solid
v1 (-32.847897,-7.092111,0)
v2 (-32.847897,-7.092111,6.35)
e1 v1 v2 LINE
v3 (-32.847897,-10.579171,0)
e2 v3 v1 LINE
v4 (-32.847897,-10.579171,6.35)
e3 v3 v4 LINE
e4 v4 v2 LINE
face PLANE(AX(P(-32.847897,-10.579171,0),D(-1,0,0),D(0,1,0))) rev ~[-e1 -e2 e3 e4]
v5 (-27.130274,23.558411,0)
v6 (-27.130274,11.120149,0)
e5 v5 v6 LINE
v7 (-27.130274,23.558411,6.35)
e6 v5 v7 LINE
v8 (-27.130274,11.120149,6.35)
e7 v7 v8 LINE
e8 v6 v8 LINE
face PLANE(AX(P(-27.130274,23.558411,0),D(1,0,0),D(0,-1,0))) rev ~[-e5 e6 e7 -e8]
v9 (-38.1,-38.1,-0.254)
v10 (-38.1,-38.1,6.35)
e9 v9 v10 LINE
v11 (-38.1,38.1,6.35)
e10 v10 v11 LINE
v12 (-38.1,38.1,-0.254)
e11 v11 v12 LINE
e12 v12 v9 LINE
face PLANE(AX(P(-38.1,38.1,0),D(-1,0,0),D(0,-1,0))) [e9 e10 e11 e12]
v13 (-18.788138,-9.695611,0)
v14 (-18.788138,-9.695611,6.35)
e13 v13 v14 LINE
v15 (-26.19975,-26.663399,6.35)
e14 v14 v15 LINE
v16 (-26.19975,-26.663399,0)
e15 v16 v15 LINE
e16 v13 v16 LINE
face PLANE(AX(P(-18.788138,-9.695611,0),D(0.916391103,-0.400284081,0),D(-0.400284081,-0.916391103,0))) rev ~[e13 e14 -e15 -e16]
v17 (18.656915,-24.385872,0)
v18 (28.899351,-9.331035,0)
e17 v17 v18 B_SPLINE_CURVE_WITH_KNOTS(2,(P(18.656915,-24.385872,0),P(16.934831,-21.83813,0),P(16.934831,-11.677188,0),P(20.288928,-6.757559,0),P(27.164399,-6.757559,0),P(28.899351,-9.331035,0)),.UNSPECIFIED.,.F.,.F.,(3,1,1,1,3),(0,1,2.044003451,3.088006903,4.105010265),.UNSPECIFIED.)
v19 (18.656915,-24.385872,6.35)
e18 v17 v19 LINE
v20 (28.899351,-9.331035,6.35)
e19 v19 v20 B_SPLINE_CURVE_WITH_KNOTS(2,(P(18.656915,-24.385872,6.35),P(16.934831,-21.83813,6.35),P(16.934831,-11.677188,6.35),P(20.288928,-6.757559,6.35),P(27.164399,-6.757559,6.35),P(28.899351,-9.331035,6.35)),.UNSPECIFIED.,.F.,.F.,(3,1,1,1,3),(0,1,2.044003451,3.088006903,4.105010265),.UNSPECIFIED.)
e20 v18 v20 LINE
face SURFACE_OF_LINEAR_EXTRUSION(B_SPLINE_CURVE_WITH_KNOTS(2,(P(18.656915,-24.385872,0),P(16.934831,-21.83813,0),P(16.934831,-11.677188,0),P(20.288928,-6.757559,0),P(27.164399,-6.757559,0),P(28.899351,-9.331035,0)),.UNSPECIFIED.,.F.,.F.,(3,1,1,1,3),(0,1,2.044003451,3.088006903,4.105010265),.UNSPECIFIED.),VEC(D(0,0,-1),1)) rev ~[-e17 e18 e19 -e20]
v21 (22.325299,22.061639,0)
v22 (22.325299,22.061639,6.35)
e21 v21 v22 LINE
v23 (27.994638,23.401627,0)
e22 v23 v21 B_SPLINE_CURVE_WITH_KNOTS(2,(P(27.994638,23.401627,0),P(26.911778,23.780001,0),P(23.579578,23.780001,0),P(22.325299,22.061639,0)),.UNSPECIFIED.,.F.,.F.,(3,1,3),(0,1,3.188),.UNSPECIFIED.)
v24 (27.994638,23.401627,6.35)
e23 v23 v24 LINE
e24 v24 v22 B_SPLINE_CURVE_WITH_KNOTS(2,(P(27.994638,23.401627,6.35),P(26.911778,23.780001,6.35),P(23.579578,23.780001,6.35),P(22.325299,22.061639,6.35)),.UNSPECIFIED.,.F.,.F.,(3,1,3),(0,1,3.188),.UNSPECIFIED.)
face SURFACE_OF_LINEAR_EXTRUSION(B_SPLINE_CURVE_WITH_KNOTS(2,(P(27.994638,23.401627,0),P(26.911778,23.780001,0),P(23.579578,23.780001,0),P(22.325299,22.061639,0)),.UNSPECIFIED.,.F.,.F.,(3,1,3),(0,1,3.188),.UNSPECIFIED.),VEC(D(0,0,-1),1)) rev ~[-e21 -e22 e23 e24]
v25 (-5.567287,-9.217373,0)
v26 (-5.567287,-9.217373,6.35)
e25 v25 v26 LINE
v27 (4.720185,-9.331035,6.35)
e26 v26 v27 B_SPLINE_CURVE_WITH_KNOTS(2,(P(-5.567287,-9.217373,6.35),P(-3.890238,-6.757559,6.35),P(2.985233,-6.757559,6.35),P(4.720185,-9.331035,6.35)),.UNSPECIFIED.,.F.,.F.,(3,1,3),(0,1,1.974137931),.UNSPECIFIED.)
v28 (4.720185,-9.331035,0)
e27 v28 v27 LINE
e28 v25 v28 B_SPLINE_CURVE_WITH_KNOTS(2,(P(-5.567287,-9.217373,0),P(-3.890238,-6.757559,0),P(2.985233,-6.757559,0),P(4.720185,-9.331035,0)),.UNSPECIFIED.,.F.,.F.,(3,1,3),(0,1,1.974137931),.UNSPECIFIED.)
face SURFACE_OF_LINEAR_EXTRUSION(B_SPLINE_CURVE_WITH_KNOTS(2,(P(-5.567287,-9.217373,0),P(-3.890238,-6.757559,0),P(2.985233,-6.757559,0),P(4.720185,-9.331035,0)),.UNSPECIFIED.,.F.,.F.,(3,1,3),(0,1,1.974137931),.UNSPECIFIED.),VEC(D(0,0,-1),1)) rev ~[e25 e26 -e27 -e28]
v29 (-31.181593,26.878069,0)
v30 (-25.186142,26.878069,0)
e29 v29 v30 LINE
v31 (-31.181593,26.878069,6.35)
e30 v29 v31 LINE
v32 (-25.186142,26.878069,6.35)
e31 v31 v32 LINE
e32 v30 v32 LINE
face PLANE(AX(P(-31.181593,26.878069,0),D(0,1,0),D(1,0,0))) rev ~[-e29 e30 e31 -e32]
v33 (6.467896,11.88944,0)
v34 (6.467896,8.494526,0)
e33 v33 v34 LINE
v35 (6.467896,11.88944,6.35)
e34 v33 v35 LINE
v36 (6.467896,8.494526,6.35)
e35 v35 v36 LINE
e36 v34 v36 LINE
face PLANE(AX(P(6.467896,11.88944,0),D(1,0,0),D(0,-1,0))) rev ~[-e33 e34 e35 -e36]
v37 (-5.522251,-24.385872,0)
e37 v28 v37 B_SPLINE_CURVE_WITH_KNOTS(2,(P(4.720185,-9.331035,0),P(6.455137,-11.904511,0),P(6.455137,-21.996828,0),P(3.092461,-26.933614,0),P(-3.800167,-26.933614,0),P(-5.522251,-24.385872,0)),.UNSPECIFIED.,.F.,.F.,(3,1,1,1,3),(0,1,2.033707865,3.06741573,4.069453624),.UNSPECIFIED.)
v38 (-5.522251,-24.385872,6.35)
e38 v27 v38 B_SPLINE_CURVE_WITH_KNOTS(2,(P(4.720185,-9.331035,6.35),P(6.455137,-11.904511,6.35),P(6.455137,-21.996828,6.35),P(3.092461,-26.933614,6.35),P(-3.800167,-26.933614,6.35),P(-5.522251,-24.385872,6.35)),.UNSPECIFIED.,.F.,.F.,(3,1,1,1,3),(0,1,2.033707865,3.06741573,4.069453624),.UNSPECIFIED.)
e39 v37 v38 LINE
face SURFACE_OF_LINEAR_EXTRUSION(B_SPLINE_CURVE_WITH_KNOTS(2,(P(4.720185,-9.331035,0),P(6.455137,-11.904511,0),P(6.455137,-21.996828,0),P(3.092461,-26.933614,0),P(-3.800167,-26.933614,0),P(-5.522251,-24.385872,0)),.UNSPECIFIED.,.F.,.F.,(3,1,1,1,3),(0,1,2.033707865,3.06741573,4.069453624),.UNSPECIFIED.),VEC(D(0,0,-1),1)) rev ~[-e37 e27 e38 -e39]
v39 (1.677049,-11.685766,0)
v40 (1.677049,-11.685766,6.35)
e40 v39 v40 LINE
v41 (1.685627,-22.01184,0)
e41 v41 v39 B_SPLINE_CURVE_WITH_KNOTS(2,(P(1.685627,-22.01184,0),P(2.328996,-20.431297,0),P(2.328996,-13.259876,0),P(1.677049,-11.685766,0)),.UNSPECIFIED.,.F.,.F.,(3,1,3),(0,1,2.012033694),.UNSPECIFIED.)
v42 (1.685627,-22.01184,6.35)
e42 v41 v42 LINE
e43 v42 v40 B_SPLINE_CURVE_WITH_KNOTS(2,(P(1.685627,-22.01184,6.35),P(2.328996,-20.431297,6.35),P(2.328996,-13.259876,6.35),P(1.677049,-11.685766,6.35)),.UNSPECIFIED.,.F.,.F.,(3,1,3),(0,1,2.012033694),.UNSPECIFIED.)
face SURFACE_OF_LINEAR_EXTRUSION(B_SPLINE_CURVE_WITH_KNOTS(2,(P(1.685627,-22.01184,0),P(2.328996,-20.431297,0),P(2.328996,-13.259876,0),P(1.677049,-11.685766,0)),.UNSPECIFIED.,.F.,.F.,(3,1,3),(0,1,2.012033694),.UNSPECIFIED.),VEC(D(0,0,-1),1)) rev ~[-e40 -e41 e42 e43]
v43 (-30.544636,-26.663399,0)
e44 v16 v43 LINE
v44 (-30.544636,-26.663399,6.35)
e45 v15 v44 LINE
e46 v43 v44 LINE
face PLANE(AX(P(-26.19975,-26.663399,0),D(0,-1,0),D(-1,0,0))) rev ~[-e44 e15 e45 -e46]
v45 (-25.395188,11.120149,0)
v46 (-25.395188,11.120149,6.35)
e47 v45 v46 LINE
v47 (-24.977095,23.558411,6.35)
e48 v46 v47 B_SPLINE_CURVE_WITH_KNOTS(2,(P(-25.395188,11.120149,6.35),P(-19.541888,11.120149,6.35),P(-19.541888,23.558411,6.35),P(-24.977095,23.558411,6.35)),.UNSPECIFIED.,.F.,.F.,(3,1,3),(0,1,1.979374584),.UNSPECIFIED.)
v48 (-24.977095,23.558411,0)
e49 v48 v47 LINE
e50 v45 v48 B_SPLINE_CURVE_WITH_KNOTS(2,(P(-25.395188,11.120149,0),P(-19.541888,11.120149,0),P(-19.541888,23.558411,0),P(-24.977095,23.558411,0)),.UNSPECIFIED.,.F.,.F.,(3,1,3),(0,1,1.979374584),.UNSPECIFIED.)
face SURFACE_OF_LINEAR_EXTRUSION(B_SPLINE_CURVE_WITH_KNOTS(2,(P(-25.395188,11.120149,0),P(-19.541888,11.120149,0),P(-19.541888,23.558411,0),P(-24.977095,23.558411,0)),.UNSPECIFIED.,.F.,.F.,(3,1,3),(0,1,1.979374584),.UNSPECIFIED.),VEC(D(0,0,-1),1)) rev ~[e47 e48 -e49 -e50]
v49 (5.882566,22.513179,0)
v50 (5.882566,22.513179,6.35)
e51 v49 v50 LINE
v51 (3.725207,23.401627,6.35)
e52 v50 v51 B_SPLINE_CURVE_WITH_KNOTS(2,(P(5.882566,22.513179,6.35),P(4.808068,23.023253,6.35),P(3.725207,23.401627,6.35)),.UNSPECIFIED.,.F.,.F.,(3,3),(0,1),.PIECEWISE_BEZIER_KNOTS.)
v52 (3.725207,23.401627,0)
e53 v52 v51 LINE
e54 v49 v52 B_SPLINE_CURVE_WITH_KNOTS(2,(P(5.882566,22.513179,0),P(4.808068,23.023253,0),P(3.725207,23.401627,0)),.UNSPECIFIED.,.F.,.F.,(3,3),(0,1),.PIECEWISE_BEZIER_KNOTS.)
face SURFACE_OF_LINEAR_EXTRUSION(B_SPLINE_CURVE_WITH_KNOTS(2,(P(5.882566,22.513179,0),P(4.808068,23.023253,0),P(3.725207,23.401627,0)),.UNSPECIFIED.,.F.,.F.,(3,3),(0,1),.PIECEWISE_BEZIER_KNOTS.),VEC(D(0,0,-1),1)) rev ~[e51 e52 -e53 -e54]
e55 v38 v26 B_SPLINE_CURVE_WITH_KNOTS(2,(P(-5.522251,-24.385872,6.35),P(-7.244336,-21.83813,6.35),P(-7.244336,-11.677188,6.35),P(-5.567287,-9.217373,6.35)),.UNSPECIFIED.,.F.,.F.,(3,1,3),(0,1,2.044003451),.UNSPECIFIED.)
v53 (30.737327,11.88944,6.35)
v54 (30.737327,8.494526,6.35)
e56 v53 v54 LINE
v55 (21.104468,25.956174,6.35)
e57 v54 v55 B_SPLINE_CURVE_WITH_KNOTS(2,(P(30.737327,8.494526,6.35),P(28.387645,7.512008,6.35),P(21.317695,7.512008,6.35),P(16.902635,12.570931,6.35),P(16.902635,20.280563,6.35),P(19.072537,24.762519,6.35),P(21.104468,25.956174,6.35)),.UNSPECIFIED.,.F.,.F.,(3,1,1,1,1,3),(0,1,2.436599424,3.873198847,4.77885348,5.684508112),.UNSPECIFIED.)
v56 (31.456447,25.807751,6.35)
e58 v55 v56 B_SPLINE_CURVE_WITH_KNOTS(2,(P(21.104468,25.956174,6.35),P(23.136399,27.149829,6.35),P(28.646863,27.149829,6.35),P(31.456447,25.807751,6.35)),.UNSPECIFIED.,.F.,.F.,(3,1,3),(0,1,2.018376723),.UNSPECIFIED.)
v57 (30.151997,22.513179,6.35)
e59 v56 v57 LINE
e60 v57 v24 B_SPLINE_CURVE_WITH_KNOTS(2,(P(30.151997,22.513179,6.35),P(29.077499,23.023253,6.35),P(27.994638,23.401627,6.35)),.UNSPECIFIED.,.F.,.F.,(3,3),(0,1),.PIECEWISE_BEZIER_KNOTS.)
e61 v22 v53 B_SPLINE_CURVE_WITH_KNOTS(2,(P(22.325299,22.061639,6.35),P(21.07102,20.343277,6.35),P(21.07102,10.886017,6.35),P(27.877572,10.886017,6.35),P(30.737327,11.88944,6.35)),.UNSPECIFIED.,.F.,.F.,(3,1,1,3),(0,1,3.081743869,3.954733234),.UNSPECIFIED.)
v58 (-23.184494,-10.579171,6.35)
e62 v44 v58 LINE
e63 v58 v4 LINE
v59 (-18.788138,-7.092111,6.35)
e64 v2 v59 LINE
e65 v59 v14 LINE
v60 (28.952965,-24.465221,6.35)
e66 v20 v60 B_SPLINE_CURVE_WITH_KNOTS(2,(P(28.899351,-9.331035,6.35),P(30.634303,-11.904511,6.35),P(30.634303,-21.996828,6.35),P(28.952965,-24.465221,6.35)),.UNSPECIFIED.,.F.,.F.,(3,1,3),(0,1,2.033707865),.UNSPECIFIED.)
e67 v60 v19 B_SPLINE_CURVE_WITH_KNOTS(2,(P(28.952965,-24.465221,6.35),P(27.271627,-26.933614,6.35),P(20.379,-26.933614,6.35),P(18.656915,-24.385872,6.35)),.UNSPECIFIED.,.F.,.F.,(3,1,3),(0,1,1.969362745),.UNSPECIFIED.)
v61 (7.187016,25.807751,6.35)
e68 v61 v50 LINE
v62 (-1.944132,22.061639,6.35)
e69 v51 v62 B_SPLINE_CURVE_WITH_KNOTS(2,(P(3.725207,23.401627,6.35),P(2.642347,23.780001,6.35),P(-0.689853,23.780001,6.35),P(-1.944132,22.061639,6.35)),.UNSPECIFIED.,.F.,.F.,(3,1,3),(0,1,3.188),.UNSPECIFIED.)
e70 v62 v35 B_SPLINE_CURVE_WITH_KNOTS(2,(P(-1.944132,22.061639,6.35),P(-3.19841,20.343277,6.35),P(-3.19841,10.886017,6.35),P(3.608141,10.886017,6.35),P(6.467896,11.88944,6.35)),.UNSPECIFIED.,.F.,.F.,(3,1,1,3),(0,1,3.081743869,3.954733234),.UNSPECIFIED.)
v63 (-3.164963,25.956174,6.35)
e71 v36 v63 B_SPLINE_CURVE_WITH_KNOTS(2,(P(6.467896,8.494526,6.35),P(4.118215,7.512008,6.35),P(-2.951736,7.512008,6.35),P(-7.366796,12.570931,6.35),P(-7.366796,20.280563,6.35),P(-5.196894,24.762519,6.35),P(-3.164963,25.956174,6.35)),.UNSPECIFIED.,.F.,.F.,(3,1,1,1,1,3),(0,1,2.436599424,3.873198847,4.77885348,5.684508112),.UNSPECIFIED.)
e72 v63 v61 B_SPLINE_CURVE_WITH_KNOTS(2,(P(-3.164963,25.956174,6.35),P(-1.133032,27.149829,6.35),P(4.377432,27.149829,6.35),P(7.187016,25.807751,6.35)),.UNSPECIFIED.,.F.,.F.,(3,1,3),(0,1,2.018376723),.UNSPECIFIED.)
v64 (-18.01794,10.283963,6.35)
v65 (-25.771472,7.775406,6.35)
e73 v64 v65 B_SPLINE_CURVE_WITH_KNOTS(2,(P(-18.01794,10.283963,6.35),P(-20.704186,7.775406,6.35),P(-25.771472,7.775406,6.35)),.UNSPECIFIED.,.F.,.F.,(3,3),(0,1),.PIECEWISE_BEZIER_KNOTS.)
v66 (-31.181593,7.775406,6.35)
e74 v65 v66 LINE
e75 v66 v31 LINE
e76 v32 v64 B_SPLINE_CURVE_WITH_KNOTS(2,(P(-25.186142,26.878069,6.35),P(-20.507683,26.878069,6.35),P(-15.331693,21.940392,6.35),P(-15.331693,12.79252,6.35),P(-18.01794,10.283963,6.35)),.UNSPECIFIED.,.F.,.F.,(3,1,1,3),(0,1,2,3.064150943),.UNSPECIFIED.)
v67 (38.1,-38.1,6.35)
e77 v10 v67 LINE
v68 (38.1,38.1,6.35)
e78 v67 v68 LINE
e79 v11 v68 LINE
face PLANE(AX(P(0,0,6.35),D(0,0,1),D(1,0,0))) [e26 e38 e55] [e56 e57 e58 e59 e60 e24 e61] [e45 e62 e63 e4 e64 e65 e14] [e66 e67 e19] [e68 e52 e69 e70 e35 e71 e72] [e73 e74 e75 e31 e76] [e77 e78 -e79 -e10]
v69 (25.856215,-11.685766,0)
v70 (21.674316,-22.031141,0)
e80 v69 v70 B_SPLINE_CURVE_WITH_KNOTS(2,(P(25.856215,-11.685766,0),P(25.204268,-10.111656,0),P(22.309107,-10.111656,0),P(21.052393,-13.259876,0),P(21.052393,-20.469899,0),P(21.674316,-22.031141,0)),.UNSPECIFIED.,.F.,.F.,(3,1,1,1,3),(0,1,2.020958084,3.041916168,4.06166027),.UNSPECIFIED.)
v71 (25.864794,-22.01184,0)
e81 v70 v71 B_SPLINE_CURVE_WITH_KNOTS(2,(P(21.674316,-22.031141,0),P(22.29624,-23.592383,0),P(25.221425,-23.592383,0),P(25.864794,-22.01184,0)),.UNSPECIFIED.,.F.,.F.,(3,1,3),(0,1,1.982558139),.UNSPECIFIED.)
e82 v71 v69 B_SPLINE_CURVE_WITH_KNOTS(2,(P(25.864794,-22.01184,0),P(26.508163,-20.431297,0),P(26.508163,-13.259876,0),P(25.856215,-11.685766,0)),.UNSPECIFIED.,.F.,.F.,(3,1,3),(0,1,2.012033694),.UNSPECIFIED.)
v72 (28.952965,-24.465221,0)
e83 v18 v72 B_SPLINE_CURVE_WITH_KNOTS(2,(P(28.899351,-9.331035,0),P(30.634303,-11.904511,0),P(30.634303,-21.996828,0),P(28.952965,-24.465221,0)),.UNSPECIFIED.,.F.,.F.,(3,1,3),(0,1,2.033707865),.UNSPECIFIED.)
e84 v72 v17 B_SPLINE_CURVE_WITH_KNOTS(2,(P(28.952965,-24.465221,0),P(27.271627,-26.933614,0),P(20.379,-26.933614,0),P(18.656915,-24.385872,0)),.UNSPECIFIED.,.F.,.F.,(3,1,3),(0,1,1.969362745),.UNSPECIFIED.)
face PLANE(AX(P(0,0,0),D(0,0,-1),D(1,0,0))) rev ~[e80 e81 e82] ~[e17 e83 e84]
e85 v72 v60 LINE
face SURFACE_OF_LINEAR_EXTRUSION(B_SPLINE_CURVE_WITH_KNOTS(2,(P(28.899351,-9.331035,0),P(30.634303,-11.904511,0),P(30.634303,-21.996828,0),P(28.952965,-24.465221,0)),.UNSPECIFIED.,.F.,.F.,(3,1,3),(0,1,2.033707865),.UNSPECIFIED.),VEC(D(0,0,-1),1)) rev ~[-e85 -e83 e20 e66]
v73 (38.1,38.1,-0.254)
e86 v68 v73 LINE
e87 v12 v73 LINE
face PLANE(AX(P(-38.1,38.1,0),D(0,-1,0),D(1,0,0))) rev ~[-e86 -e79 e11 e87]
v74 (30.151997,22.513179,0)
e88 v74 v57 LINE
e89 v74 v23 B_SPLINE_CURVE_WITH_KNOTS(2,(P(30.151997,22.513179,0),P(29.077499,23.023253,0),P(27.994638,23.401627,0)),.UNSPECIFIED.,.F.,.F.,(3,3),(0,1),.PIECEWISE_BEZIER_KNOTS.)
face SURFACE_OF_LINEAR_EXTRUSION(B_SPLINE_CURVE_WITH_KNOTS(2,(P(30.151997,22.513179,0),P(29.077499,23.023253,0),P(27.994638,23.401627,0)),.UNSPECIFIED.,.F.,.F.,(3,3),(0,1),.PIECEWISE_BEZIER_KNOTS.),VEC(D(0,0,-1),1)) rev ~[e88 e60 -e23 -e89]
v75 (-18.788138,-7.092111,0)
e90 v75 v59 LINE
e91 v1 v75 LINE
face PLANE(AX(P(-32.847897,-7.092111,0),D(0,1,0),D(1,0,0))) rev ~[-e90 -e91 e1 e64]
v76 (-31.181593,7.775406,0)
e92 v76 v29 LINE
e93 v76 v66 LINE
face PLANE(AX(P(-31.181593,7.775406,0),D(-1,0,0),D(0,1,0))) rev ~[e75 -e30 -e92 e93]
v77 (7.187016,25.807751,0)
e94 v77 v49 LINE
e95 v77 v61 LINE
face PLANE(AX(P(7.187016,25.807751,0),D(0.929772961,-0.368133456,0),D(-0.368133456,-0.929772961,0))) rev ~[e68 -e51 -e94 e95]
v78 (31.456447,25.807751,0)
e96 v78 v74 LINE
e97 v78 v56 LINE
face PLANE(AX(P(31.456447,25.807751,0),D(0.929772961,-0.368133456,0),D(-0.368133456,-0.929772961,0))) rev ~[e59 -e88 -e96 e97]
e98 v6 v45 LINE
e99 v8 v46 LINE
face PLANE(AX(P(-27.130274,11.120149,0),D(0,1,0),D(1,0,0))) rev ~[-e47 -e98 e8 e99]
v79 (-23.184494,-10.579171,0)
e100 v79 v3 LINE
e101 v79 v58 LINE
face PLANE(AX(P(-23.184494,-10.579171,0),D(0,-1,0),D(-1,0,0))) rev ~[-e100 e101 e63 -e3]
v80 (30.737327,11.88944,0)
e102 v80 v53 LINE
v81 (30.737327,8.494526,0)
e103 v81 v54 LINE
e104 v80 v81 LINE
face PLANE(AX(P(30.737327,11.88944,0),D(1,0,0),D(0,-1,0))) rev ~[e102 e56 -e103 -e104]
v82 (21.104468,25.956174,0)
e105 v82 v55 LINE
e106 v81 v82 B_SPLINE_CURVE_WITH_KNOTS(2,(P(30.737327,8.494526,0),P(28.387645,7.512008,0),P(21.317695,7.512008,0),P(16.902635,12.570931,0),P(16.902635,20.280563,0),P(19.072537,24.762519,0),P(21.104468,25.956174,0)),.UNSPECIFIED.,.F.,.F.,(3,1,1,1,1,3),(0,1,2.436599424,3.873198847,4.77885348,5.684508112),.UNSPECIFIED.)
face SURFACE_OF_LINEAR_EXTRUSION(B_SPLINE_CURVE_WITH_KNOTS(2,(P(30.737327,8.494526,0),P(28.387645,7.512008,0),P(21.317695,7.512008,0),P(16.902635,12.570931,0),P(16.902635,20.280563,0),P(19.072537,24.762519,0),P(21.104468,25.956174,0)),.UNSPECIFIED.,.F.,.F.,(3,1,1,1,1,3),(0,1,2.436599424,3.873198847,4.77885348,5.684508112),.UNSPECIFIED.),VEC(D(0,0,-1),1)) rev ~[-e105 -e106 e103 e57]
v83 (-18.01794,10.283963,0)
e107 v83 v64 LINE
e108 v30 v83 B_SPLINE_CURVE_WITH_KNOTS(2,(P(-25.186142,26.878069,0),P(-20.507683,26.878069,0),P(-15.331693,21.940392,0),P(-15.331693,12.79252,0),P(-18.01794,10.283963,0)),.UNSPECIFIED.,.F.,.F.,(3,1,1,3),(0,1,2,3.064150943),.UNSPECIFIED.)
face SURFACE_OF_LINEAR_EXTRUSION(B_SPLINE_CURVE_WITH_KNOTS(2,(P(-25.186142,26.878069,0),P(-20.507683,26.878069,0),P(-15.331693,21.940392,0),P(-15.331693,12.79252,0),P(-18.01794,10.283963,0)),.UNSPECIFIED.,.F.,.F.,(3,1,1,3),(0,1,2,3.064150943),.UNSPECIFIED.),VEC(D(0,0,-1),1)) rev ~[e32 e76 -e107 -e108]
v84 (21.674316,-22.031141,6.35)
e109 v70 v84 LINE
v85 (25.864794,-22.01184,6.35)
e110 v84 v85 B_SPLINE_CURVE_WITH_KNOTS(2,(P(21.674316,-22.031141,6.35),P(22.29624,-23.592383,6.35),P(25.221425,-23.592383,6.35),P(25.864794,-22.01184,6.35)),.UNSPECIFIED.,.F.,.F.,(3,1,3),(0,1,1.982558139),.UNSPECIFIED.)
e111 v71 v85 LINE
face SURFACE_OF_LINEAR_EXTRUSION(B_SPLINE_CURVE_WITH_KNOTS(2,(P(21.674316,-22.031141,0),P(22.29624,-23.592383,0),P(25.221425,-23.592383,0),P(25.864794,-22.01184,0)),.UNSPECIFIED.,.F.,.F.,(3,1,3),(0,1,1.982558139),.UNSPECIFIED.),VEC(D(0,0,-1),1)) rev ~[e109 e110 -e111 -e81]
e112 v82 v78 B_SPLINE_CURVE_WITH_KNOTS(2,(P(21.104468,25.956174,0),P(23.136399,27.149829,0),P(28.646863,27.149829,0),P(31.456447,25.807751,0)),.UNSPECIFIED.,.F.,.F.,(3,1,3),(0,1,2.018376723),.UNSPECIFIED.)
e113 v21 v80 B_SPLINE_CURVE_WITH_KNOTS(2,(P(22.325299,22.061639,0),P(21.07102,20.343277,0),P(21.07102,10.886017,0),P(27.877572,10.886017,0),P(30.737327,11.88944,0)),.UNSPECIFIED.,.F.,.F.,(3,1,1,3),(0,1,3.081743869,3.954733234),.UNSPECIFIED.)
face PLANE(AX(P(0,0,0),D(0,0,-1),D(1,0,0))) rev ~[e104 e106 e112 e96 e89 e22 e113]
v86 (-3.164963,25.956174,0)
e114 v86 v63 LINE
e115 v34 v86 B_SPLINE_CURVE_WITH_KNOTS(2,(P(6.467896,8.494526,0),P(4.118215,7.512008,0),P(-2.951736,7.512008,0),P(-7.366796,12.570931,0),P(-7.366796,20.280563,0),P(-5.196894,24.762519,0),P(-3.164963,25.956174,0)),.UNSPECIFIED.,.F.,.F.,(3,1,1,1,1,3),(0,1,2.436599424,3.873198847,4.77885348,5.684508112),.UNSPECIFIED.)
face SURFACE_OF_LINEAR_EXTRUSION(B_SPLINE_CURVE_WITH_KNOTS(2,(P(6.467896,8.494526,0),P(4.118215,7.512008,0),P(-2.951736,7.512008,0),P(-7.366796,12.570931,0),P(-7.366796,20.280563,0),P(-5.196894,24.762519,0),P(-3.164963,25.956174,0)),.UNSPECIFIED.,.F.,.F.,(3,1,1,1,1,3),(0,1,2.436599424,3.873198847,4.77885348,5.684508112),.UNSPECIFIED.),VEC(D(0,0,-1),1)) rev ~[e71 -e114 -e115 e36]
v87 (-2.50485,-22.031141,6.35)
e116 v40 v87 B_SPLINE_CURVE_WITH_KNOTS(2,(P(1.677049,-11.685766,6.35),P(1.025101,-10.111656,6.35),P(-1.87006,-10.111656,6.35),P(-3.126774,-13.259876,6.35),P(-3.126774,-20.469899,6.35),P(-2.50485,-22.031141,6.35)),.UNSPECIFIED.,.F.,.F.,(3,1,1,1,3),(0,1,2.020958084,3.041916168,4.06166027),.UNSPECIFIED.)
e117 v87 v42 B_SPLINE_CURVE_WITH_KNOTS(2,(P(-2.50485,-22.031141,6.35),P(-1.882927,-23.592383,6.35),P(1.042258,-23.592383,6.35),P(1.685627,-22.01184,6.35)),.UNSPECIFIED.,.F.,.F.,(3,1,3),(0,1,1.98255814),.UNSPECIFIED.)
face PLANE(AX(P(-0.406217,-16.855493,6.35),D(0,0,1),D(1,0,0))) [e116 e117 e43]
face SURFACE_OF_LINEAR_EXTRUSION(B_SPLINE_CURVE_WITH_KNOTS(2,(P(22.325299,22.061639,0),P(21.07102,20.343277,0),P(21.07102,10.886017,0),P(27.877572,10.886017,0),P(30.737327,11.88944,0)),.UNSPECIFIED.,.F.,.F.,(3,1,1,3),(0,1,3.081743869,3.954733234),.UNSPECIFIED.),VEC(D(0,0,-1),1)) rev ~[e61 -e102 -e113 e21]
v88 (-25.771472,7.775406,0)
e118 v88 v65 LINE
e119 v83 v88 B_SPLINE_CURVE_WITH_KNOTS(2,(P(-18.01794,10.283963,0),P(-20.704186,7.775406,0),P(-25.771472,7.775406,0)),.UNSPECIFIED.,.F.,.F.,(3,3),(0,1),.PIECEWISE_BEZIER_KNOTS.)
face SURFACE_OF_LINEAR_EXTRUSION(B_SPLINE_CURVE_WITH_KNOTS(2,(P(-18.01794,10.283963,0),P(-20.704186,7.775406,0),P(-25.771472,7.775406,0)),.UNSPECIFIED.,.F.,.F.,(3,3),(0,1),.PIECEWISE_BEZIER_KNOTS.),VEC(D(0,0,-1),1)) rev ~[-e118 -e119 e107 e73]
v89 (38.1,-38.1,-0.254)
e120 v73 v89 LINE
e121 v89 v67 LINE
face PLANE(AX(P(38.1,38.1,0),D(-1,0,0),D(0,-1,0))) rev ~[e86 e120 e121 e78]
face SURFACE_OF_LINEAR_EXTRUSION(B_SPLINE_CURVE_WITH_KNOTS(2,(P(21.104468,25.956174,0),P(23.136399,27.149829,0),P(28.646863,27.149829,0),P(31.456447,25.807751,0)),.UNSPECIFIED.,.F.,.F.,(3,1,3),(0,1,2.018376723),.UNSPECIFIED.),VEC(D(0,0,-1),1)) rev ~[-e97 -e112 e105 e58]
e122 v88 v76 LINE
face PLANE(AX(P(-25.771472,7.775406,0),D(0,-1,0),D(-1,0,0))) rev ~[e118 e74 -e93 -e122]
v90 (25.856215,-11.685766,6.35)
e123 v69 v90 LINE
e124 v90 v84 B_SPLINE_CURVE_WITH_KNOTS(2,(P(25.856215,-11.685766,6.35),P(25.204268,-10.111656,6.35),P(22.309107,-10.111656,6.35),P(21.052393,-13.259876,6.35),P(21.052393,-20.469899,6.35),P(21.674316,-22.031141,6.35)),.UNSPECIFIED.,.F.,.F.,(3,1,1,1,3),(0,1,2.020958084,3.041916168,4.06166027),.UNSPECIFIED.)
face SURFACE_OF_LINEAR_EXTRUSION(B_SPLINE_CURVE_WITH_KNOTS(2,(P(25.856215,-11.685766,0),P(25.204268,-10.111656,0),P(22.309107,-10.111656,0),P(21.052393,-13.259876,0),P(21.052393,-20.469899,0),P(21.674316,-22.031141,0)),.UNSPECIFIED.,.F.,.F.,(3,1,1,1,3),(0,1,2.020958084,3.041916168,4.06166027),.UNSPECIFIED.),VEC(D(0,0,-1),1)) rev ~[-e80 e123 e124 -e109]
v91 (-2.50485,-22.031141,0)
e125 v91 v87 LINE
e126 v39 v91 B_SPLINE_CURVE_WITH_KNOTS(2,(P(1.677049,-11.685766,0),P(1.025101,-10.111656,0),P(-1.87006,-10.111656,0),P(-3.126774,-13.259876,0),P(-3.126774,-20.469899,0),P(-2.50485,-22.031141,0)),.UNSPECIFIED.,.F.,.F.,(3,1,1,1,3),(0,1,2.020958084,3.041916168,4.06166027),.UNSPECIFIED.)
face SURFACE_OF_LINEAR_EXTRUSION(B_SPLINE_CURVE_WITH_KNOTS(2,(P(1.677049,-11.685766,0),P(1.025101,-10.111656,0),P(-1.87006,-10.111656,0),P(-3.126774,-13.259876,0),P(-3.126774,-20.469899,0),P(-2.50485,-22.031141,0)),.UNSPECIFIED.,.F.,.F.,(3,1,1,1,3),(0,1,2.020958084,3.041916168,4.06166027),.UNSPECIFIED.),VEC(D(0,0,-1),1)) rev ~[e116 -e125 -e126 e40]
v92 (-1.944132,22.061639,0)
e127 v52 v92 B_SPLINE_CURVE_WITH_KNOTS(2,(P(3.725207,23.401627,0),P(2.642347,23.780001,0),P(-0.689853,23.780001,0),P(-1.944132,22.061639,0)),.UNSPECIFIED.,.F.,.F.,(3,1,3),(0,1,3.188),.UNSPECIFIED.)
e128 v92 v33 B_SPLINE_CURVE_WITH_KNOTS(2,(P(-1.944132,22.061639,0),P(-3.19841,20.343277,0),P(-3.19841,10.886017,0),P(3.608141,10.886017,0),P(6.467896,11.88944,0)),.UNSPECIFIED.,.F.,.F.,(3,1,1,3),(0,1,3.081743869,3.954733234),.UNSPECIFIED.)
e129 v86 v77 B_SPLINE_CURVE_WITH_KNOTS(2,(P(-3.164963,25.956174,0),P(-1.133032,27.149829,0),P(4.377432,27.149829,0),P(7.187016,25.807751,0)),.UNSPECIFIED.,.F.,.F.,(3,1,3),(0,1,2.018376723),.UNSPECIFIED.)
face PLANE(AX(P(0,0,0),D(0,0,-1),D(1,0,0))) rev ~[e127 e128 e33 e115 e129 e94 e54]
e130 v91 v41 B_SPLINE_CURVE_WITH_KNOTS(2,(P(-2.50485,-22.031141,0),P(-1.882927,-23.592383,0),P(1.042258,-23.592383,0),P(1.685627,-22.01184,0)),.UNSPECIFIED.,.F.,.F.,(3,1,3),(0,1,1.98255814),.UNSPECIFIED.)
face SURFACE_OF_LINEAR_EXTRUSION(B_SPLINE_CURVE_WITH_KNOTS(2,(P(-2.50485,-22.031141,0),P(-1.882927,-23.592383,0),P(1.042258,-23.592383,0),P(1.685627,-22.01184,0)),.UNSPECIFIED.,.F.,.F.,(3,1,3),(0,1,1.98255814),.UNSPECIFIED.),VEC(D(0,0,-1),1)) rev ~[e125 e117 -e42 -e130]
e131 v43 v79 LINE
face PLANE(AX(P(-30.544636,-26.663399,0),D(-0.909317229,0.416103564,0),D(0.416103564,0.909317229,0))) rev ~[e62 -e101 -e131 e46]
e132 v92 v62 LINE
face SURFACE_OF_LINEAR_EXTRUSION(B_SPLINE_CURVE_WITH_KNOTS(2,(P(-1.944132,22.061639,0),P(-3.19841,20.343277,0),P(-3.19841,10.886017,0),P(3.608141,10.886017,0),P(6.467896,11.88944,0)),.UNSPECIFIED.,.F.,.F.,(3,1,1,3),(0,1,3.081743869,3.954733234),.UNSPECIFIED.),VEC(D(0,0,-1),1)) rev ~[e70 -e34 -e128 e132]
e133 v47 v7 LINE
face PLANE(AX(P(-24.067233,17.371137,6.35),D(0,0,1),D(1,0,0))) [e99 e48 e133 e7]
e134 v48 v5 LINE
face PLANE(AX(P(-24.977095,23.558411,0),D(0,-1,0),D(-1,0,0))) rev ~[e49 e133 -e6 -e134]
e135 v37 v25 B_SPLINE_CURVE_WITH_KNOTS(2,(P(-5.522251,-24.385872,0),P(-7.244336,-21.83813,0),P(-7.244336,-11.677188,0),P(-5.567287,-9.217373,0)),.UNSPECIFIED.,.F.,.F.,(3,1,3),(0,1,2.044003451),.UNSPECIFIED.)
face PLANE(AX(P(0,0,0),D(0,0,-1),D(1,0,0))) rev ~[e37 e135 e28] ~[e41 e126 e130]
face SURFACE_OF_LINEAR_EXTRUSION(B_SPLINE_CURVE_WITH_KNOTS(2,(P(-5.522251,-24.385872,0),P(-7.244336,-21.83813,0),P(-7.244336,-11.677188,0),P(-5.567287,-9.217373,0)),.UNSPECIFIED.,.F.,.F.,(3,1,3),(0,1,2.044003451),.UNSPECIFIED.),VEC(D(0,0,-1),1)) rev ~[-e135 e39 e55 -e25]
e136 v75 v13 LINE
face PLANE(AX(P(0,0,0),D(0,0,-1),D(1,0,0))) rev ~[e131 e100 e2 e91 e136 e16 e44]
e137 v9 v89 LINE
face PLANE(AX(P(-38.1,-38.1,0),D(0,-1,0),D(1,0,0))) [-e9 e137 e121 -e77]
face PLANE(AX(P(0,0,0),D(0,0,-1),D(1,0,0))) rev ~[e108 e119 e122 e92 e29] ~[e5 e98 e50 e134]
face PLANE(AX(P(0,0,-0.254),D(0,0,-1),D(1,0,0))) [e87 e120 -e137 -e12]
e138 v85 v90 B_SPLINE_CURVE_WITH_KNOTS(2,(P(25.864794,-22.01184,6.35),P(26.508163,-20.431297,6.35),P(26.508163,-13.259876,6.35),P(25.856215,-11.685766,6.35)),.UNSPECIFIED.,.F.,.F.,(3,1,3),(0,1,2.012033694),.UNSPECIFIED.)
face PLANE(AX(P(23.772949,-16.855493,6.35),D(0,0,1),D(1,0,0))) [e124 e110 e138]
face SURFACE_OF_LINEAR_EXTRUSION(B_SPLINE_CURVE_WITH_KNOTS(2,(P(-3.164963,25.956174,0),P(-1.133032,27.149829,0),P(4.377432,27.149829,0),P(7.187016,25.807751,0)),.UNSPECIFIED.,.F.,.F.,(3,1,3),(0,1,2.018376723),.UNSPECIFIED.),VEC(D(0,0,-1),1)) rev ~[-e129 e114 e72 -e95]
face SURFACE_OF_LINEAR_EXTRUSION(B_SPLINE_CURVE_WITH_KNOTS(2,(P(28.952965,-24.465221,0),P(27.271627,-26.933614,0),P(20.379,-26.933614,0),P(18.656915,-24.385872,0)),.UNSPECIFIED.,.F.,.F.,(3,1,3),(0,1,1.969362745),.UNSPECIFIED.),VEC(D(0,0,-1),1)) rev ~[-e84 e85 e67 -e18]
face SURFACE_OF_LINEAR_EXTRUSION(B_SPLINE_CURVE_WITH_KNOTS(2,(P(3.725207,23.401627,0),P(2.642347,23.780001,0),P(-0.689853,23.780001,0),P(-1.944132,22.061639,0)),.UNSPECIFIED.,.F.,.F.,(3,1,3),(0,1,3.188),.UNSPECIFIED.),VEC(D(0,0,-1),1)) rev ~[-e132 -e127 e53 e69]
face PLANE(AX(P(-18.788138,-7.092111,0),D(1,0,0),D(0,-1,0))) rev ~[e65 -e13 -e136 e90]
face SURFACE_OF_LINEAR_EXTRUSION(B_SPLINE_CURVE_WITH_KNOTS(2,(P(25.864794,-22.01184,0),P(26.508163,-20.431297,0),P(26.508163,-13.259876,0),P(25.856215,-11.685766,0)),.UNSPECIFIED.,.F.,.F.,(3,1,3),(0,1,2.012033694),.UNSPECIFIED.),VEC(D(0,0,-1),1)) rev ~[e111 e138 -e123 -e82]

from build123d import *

# Parameters (mm, degrees)
F0_W     = 76.2
F0_H     = 76.2
F1_DEPTH = 6.35
F2_W     = 76.2
F2_H     = 76.2
F3_DEPTH = 0.254


with BuildPart() as f1:
    # F0 (on Top) → F1 (new body)
    with BuildSketch(Plane.XY):
        Rectangle(F0_W, F0_H)
        Polygon((-26.1997501053, -26.6633986117), (-30.5446360985, -26.6633986117), (-23.1844935868, -10.5791710949), (-32.8478974789, -10.5791710949), (-32.8478974789, -7.0921105693), (-18.7881380656, -7.0921105693), (-18.7881380656, -9.6956108634), align=None, mode=Mode.SUBTRACT)
        with BuildLine():
            add(Edge.make_bspline(
                [(4.7201846353, -9.3310350396), (6.4551366434, -11.9045114423), (6.4551366434, -16.8670317722)],
                knots=[0, 0, 0, 1, 1, 1], degree=2))
            add(Edge.make_bspline(
                [(6.4551366434, -16.8670317722), (6.4551366434, -21.9968280682), (4.773798727, -24.4652208511)],
                knots=[0, 0, 0, 1, 1, 1], degree=2))
            add(Edge.make_bspline(
                [(4.773798727, -24.4652208511), (3.0924608106, -26.933613634), (-0.4074670971, -26.933613634)],
                knots=[0, 0, 0, 1, 1, 1], degree=2))
            add(Edge.make_bspline(
                [(-0.4074670971, -26.933613634), (-3.8001668213, -26.933613634), (-5.5222514474, -24.3858719953)],
                knots=[0, 0, 0, 1, 1, 1], degree=2))
            add(Edge.make_bspline(
                [(-5.5222514474, -24.3858719953), (-7.2443360735, -21.8381303567), (-7.2443360735, -16.8670317722)],
                knots=[0, 0, 0, 1, 1, 1], degree=2))
            add(Edge.make_bspline(
                [(-7.2443360735, -16.8670317722), (-7.2443360735, -11.6771876934), (-5.5672872845, -9.2173731652)],
                knots=[0, 0, 0, 1, 1, 1], degree=2))
            add(Edge.make_bspline(
                [(-5.5672872845, -9.2173731652), (-3.8902384954, -6.757558637), (-0.4074670971, -6.757558637)],
                knots=[0, 0, 0, 1, 1, 1], degree=2))
            add(Edge.make_bspline(
                [(-0.4074670971, -6.757558637), (2.9852326271, -6.757558637), (4.7201846353, -9.3310350396)],
                knots=[0, 0, 0, 1, 1, 1], degree=2))
        make_face(mode=Mode.SUBTRACT)
        with BuildLine():
            add(Edge.make_bspline(
                [(28.8993512339, -9.3310350396), (30.6343032421, -11.9045114423), (30.6343032421, -16.8670317722)],
                knots=[0, 0, 0, 1, 1, 1], degree=2))
            add(Edge.make_bspline(
                [(30.6343032421, -16.8670317722), (30.6343032421, -21.9968280682), (28.9529653256, -24.4652208511)],
                knots=[0, 0, 0, 1, 1, 1], degree=2))
            add(Edge.make_bspline(
                [(28.9529653256, -24.4652208511), (27.2716274092, -26.933613634), (23.7716995016, -26.933613634)],
                knots=[0, 0, 0, 1, 1, 1], degree=2))
            add(Edge.make_bspline(
                [(23.7716995016, -26.933613634), (20.3789997774, -26.933613634), (18.6569151512, -24.3858719953)],
                knots=[0, 0, 0, 1, 1, 1], degree=2))
            add(Edge.make_bspline(
                [(18.6569151512, -24.3858719953), (16.9348305251, -21.8381303567), (16.9348305251, -16.8670317722)],
                knots=[0, 0, 0, 1, 1, 1], degree=2))
            add(Edge.make_bspline(
                [(16.9348305251, -16.8670317722), (16.9348305251, -11.6771876934), (18.6118793142, -9.2173731652)],
                knots=[0, 0, 0, 1, 1, 1], degree=2))
            add(Edge.make_bspline(
                [(18.6118793142, -9.2173731652), (20.2889281033, -6.757558637), (23.7716995016, -6.757558637)],
                knots=[0, 0, 0, 1, 1, 1], degree=2))
            add(Edge.make_bspline(
                [(23.7716995016, -6.757558637), (27.1643992258, -6.757558637), (28.8993512339, -9.3310350396)],
                knots=[0, 0, 0, 1, 1, 1], degree=2))
        make_face(mode=Mode.SUBTRACT)
        with BuildLine():
            add(Edge.make_bspline(
                [(-17.9196880537, 24.4092303388), (-15.3316932729, 21.9403920221), (-15.3316932729, 17.5086077449)],
                knots=[0, 0, 0, 1, 1, 1], degree=2))
            add(Edge.make_bspline(
                [(-15.3316932729, 17.5086077449), (-15.3316932729, 12.7925203253), (-18.017939875, 10.2839631872)],
                knots=[0, 0, 0, 1, 1, 1], degree=2))
            add(Edge.make_bspline(
                [(-18.017939875, 10.2839631872), (-20.704186477, 7.7754060491), (-25.7714718959, 7.7754060491)],
                knots=[0, 0, 0, 1, 1, 1], degree=2))
            Line((-25.7714718959, 7.7754060491), (-31.181593457, 7.7754060491))
            Line((-31.181593457, 7.7754060491), (-31.181593457, 26.8780686555))
            Line((-31.181593457, 26.8780686555), (-25.186141897, 26.8780686555))
            add(Edge.make_bspline(
                [(-25.186141897, 26.8780686555), (-20.5076828345, 26.8780686555), (-17.9196880537, 24.4092303388)],
                knots=[0, 0, 0, 1, 1, 1], degree=2))
        make_face(mode=Mode.SUBTRACT)
        with BuildLine():
            add(Edge.make_bspline(
                [(3.72520735, 23.401626555), (2.6423468521, 23.78000059), (1.5971147112, 23.78000059)],
                knots=[0, 0, 0, 1, 1, 1], degree=2))
            add(Edge.make_bspline(
                [(1.5971147112, 23.78000059), (-0.689853213, 23.78000059), (-1.944131782, 22.0616389504)],
                knots=[0, 0, 0, 1, 1, 1], degree=2))
            add(Edge.make_bspline(
                [(-1.944131782, 22.0616389504), (-3.198410351, 20.3432773109), (-3.198410351, 17.2744757453)],
                knots=[0, 0, 0, 1, 1, 1], degree=2))
            add(Edge.make_bspline(
                [(-3.198410351, 17.2744757453), (-3.198410351, 10.8860169003), (1.5971147112, 10.8860169003)],
                knots=[0, 0, 0, 1, 1, 1], degree=2))
            add(Edge.make_bspline(
                [(1.5971147112, 10.8860169003), (3.6081413503, 10.8860169003), (6.4678964877, 11.8894397556)],
                knots=[0, 0, 0, 1, 1, 1], degree=2))
            Line((6.4678964877, 11.8894397556), (6.4678964877, 8.494525762))
            add(Edge.make_bspline(
                [(6.4678964877, 8.494525762), (4.118214635, 7.5120075496), (1.216650212, 7.5120075496)],
                knots=[0, 0, 0, 1, 1, 1], degree=2))
            add(Edge.make_bspline(
                [(1.216650212, 7.5120075496), (-2.9517355658, 7.5120075496), (-5.1592658473, 10.0414693305)],
                knots=[0, 0, 0, 1, 1, 1], degree=2))
            add(Edge.make_bspline(
                [(-5.1592658473, 10.0414693305), (-7.3667961288, 12.5709311114), (-7.3667961288, 17.2995613167)],
                knots=[0, 0, 0, 1, 1, 1], degree=2))
            add(Edge.make_bspline(
                [(-7.3667961288, 17.2995613167), (-7.3667961288, 20.2805633824), (-6.2818451666, 22.5215410924)],
                knots=[0, 0, 0, 1, 1, 1], degree=2))
            add(Edge.make_bspline(
                [(-6.2818451666, 22.5215410924), (-5.1968942044, 24.7625188024), (-3.1649629225, 25.9561739073)],
                knots=[0, 0, 0, 1, 1, 1], degree=2))
            add(Edge.make_bspline(
                [(-3.1649629225, 25.9561739073), (-1.1330316407, 27.1498290122), (1.5971147112, 27.1498290122)],
                knots=[0, 0, 0, 1, 1, 1], degree=2))
            add(Edge.make_bspline(
                [(1.5971147112, 27.1498290122), (4.3774322059, 27.1498290122), (7.1870162006, 25.8077509433)],
                knots=[0, 0, 0, 1, 1, 1], degree=2))
            Line((7.1870162006, 25.8077509433), (5.8825664888, 22.5131792353))
            add(Edge.make_bspline(
                [(5.8825664888, 22.5131792353), (4.808067848, 23.02325252), (3.72520735, 23.401626555)],
                knots=[0, 0, 0, 1, 1, 1], degree=2))
        make_face(mode=Mode.SUBTRACT)
        with BuildLine():
            add(Edge.make_bspline(
                [(27.9946381304, 23.401626555), (26.9117776325, 23.78000059), (25.8665454916, 23.78000059)],
                knots=[0, 0, 0, 1, 1, 1], degree=2))
            add(Edge.make_bspline(
                [(25.8665454916, 23.78000059), (23.5795775674, 23.78000059), (22.3252989984, 22.0616389504)],
                knots=[0, 0, 0, 1, 1, 1], degree=2))
            add(Edge.make_bspline(
                [(22.3252989984, 22.0616389504), (21.0710204294, 20.3432773109), (21.0710204294, 17.2744757453)],
                knots=[0, 0, 0, 1, 1, 1], degree=2))
            add(Edge.make_bspline(
                [(21.0710204294, 17.2744757453), (21.0710204294, 10.8860169003), (25.8665454916, 10.8860169003)],
                knots=[0, 0, 0, 1, 1, 1], degree=2))
            add(Edge.make_bspline(
                [(25.8665454916, 10.8860169003), (27.8775721307, 10.8860169003), (30.7373272681, 11.8894397556)],
                knots=[0, 0, 0, 1, 1, 1], degree=2))
            Line((30.7373272681, 11.8894397556), (30.7373272681, 8.494525762))
            add(Edge.make_bspline(
                [(30.7373272681, 8.494525762), (28.3876454154, 7.5120075496), (25.4860809924, 7.5120075496)],
                knots=[0, 0, 0, 1, 1, 1], degree=2))
            add(Edge.make_bspline(
                [(25.4860809924, 7.5120075496), (21.3176952146, 7.5120075496), (19.1101649331, 10.0414693305)],
                knots=[0, 0, 0, 1, 1, 1], degree=2))
            add(Edge.make_bspline(
                [(19.1101649331, 10.0414693305), (16.9026346516, 12.5709311114), (16.9026346516, 17.2995613167)],
                knots=[0, 0, 0, 1, 1, 1], degree=2))
            add(Edge.make_bspline(
                [(16.9026346516, 17.2995613167), (16.9026346516, 20.2805633824), (17.9875856138, 22.5215410924)],
                knots=[0, 0, 0, 1, 1, 1], degree=2))
            add(Edge.make_bspline(
                [(17.9875856138, 22.5215410924), (19.072536576, 24.7625188024), (21.1044678579, 25.9561739073)],
                knots=[0, 0, 0, 1, 1, 1], degree=2))
            add(Edge.make_bspline(
                [(21.1044678579, 25.9561739073), (23.1363991397, 27.1498290122), (25.8665454916, 27.1498290122)],
                knots=[0, 0, 0, 1, 1, 1], degree=2))
            add(Edge.make_bspline(
                [(25.8665454916, 27.1498290122), (28.6468629863, 27.1498290122), (31.456446981, 25.8077509433)],
                knots=[0, 0, 0, 1, 1, 1], degree=2))
            Line((31.456446981, 25.8077509433), (30.1519972692, 22.5131792353))
            add(Edge.make_bspline(
                [(30.1519972692, 22.5131792353), (29.0774986284, 23.02325252), (27.9946381304, 23.401626555)],
                knots=[0, 0, 0, 1, 1, 1], degree=2))
        make_face(mode=Mode.SUBTRACT)
    extrude(amount=F1_DEPTH)



with BuildPart() as f1b:
    # F0 (on Top) → F1, piece 2 (new body)
    with BuildSketch(Plane.XY):
        with BuildLine():
            add(Edge.make_bspline(
                [(-25.3951883252, 11.1201488999), (-19.5418883363, 11.1201488999), (-19.5418883363, 17.4040845308)],
                knots=[0, 0, 0, 1, 1, 1], degree=2))
            add(Edge.make_bspline(
                [(-19.5418883363, 17.4040845308), (-19.5418883363, 23.5584113762), (-24.9770954688, 23.5584113762)],
                knots=[0, 0, 0, 1, 1, 1], degree=2))
            Line((-24.9770954688, 23.5584113762), (-27.130273679, 23.5584113762))
            Line((-27.130273679, 23.5584113762), (-27.130273679, 11.1201488999))
            Line((-27.130273679, 11.1201488999), (-25.3951883252, 11.1201488999))
        make_face()
    extrude(amount=F1_DEPTH)


with BuildPart() as f1c:
    # F0 (on Top) → F1, piece 3 (new body)
    with BuildSketch(Plane.XY):
        with BuildLine():
            add(Edge.make_bspline(
                [(-2.4984166743, -11.6857659481), (-3.1267738293, -13.2598756811), (-3.1267738293, -16.8670317722)],
                knots=[0, 0, 0, 1, 1, 1], degree=2))
            add(Edge.make_bspline(
                [(-3.1267738293, -16.8670317722), (-3.1267738293, -20.4698987359), (-2.5048503653, -22.0311410869)],
                knots=[0, 0, 0, 1, 1, 1], degree=2))
            add(Edge.make_bspline(
                [(-2.5048503653, -22.0311410869), (-1.8829269013, -23.5923834378), (-0.4074670971, -23.5923834378)],
                knots=[0, 0, 0, 1, 1, 1], degree=2))
            add(Edge.make_bspline(
                [(-0.4074670971, -23.5923834378), (1.0422579431, -23.5923834378), (1.6856270438, -22.0118400138)],
                knots=[0, 0, 0, 1, 1, 1], degree=2))
            add(Edge.make_bspline(
                [(1.6856270438, -22.0118400138), (2.3289961444, -20.4312965899), (2.3289961444, -16.8670317722)],
                knots=[0, 0, 0, 1, 1, 1], degree=2))
            add(Edge.make_bspline(
                [(2.3289961444, -16.8670317722), (2.3289961444, -13.2598756811), (1.6770487891, -11.6857659481)],
                knots=[0, 0, 0, 1, 1, 1], degree=2))
            add(Edge.make_bspline(
                [(1.6770487891, -11.6857659481), (1.0251014337, -10.1116562151), (-0.4074670971, -10.1116562151)],
                knots=[0, 0, 0, 1, 1, 1], degree=2))
            add(Edge.make_bspline(
                [(-0.4074670971, -10.1116562151), (-1.8700595193, -10.1116562151), (-2.4984166743, -11.6857659481)],
                knots=[0, 0, 0, 1, 1, 1], degree=2))
        make_face()
    extrude(amount=F1_DEPTH)


with BuildPart() as f1d:
    # F0 (on Top) → F1, piece 4 (new body)
    with BuildSketch(Plane.XY):
        with BuildLine():
            add(Edge.make_bspline(
                [(21.6807499244, -11.6857659481), (21.0523927694, -13.2598756811), (21.0523927694, -16.8670317722)],
                knots=[0, 0, 0, 1, 1, 1], degree=2))
            add(Edge.make_bspline(
                [(21.0523927694, -16.8670317722), (21.0523927694, -20.4698987359), (21.6743162334, -22.0311410869)],
                knots=[0, 0, 0, 1, 1, 1], degree=2))
            add(Edge.make_bspline(
                [(21.6743162334, -22.0311410869), (22.2962396974, -23.5923834378), (23.7716995016, -23.5923834378)],
                knots=[0, 0, 0, 1, 1, 1], degree=2))
            add(Edge.make_bspline(
                [(23.7716995016, -23.5923834378), (25.2214245417, -23.5923834378), (25.8647936424, -22.0118400138)],
                knots=[0, 0, 0, 1, 1, 1], degree=2))
            add(Edge.make_bspline(
                [(25.8647936424, -22.0118400138), (26.5081627431, -20.4312965899), (26.5081627431, -16.8670317722)],
                knots=[0, 0, 0, 1, 1, 1], degree=2))
            add(Edge.make_bspline(
                [(26.5081627431, -16.8670317722), (26.5081627431, -13.2598756811), (25.8562153877, -11.6857659481)],
                knots=[0, 0, 0, 1, 1, 1], degree=2))
            add(Edge.make_bspline(
                [(25.8562153877, -11.6857659481), (25.2042680324, -10.1116562151), (23.7716995016, -10.1116562151)],
                knots=[0, 0, 0, 1, 1, 1], degree=2))
            add(Edge.make_bspline(
                [(23.7716995016, -10.1116562151), (22.3091070794, -10.1116562151), (21.6807499244, -11.6857659481)],
                knots=[0, 0, 0, 1, 1, 1], degree=2))
        make_face()
    extrude(amount=F1_DEPTH)


with BuildPart() as f1_1:
    add(f1.part)

    add(f1b.part)  # F3 merges F1b

    add(f1c.part)  # F3 merges F1c

    add(f1d.part)  # F3 merges F1d
    # F2 (on face) → F3 (join)
    with BuildSketch(Plane(origin=(0, 0, 0), x_dir=(1, 0, 0), z_dir=(0, 0, -1))):
        Rectangle(F2_W, F2_H)
    extrude(amount=F3_DEPTH)


solid = f1_1.part
